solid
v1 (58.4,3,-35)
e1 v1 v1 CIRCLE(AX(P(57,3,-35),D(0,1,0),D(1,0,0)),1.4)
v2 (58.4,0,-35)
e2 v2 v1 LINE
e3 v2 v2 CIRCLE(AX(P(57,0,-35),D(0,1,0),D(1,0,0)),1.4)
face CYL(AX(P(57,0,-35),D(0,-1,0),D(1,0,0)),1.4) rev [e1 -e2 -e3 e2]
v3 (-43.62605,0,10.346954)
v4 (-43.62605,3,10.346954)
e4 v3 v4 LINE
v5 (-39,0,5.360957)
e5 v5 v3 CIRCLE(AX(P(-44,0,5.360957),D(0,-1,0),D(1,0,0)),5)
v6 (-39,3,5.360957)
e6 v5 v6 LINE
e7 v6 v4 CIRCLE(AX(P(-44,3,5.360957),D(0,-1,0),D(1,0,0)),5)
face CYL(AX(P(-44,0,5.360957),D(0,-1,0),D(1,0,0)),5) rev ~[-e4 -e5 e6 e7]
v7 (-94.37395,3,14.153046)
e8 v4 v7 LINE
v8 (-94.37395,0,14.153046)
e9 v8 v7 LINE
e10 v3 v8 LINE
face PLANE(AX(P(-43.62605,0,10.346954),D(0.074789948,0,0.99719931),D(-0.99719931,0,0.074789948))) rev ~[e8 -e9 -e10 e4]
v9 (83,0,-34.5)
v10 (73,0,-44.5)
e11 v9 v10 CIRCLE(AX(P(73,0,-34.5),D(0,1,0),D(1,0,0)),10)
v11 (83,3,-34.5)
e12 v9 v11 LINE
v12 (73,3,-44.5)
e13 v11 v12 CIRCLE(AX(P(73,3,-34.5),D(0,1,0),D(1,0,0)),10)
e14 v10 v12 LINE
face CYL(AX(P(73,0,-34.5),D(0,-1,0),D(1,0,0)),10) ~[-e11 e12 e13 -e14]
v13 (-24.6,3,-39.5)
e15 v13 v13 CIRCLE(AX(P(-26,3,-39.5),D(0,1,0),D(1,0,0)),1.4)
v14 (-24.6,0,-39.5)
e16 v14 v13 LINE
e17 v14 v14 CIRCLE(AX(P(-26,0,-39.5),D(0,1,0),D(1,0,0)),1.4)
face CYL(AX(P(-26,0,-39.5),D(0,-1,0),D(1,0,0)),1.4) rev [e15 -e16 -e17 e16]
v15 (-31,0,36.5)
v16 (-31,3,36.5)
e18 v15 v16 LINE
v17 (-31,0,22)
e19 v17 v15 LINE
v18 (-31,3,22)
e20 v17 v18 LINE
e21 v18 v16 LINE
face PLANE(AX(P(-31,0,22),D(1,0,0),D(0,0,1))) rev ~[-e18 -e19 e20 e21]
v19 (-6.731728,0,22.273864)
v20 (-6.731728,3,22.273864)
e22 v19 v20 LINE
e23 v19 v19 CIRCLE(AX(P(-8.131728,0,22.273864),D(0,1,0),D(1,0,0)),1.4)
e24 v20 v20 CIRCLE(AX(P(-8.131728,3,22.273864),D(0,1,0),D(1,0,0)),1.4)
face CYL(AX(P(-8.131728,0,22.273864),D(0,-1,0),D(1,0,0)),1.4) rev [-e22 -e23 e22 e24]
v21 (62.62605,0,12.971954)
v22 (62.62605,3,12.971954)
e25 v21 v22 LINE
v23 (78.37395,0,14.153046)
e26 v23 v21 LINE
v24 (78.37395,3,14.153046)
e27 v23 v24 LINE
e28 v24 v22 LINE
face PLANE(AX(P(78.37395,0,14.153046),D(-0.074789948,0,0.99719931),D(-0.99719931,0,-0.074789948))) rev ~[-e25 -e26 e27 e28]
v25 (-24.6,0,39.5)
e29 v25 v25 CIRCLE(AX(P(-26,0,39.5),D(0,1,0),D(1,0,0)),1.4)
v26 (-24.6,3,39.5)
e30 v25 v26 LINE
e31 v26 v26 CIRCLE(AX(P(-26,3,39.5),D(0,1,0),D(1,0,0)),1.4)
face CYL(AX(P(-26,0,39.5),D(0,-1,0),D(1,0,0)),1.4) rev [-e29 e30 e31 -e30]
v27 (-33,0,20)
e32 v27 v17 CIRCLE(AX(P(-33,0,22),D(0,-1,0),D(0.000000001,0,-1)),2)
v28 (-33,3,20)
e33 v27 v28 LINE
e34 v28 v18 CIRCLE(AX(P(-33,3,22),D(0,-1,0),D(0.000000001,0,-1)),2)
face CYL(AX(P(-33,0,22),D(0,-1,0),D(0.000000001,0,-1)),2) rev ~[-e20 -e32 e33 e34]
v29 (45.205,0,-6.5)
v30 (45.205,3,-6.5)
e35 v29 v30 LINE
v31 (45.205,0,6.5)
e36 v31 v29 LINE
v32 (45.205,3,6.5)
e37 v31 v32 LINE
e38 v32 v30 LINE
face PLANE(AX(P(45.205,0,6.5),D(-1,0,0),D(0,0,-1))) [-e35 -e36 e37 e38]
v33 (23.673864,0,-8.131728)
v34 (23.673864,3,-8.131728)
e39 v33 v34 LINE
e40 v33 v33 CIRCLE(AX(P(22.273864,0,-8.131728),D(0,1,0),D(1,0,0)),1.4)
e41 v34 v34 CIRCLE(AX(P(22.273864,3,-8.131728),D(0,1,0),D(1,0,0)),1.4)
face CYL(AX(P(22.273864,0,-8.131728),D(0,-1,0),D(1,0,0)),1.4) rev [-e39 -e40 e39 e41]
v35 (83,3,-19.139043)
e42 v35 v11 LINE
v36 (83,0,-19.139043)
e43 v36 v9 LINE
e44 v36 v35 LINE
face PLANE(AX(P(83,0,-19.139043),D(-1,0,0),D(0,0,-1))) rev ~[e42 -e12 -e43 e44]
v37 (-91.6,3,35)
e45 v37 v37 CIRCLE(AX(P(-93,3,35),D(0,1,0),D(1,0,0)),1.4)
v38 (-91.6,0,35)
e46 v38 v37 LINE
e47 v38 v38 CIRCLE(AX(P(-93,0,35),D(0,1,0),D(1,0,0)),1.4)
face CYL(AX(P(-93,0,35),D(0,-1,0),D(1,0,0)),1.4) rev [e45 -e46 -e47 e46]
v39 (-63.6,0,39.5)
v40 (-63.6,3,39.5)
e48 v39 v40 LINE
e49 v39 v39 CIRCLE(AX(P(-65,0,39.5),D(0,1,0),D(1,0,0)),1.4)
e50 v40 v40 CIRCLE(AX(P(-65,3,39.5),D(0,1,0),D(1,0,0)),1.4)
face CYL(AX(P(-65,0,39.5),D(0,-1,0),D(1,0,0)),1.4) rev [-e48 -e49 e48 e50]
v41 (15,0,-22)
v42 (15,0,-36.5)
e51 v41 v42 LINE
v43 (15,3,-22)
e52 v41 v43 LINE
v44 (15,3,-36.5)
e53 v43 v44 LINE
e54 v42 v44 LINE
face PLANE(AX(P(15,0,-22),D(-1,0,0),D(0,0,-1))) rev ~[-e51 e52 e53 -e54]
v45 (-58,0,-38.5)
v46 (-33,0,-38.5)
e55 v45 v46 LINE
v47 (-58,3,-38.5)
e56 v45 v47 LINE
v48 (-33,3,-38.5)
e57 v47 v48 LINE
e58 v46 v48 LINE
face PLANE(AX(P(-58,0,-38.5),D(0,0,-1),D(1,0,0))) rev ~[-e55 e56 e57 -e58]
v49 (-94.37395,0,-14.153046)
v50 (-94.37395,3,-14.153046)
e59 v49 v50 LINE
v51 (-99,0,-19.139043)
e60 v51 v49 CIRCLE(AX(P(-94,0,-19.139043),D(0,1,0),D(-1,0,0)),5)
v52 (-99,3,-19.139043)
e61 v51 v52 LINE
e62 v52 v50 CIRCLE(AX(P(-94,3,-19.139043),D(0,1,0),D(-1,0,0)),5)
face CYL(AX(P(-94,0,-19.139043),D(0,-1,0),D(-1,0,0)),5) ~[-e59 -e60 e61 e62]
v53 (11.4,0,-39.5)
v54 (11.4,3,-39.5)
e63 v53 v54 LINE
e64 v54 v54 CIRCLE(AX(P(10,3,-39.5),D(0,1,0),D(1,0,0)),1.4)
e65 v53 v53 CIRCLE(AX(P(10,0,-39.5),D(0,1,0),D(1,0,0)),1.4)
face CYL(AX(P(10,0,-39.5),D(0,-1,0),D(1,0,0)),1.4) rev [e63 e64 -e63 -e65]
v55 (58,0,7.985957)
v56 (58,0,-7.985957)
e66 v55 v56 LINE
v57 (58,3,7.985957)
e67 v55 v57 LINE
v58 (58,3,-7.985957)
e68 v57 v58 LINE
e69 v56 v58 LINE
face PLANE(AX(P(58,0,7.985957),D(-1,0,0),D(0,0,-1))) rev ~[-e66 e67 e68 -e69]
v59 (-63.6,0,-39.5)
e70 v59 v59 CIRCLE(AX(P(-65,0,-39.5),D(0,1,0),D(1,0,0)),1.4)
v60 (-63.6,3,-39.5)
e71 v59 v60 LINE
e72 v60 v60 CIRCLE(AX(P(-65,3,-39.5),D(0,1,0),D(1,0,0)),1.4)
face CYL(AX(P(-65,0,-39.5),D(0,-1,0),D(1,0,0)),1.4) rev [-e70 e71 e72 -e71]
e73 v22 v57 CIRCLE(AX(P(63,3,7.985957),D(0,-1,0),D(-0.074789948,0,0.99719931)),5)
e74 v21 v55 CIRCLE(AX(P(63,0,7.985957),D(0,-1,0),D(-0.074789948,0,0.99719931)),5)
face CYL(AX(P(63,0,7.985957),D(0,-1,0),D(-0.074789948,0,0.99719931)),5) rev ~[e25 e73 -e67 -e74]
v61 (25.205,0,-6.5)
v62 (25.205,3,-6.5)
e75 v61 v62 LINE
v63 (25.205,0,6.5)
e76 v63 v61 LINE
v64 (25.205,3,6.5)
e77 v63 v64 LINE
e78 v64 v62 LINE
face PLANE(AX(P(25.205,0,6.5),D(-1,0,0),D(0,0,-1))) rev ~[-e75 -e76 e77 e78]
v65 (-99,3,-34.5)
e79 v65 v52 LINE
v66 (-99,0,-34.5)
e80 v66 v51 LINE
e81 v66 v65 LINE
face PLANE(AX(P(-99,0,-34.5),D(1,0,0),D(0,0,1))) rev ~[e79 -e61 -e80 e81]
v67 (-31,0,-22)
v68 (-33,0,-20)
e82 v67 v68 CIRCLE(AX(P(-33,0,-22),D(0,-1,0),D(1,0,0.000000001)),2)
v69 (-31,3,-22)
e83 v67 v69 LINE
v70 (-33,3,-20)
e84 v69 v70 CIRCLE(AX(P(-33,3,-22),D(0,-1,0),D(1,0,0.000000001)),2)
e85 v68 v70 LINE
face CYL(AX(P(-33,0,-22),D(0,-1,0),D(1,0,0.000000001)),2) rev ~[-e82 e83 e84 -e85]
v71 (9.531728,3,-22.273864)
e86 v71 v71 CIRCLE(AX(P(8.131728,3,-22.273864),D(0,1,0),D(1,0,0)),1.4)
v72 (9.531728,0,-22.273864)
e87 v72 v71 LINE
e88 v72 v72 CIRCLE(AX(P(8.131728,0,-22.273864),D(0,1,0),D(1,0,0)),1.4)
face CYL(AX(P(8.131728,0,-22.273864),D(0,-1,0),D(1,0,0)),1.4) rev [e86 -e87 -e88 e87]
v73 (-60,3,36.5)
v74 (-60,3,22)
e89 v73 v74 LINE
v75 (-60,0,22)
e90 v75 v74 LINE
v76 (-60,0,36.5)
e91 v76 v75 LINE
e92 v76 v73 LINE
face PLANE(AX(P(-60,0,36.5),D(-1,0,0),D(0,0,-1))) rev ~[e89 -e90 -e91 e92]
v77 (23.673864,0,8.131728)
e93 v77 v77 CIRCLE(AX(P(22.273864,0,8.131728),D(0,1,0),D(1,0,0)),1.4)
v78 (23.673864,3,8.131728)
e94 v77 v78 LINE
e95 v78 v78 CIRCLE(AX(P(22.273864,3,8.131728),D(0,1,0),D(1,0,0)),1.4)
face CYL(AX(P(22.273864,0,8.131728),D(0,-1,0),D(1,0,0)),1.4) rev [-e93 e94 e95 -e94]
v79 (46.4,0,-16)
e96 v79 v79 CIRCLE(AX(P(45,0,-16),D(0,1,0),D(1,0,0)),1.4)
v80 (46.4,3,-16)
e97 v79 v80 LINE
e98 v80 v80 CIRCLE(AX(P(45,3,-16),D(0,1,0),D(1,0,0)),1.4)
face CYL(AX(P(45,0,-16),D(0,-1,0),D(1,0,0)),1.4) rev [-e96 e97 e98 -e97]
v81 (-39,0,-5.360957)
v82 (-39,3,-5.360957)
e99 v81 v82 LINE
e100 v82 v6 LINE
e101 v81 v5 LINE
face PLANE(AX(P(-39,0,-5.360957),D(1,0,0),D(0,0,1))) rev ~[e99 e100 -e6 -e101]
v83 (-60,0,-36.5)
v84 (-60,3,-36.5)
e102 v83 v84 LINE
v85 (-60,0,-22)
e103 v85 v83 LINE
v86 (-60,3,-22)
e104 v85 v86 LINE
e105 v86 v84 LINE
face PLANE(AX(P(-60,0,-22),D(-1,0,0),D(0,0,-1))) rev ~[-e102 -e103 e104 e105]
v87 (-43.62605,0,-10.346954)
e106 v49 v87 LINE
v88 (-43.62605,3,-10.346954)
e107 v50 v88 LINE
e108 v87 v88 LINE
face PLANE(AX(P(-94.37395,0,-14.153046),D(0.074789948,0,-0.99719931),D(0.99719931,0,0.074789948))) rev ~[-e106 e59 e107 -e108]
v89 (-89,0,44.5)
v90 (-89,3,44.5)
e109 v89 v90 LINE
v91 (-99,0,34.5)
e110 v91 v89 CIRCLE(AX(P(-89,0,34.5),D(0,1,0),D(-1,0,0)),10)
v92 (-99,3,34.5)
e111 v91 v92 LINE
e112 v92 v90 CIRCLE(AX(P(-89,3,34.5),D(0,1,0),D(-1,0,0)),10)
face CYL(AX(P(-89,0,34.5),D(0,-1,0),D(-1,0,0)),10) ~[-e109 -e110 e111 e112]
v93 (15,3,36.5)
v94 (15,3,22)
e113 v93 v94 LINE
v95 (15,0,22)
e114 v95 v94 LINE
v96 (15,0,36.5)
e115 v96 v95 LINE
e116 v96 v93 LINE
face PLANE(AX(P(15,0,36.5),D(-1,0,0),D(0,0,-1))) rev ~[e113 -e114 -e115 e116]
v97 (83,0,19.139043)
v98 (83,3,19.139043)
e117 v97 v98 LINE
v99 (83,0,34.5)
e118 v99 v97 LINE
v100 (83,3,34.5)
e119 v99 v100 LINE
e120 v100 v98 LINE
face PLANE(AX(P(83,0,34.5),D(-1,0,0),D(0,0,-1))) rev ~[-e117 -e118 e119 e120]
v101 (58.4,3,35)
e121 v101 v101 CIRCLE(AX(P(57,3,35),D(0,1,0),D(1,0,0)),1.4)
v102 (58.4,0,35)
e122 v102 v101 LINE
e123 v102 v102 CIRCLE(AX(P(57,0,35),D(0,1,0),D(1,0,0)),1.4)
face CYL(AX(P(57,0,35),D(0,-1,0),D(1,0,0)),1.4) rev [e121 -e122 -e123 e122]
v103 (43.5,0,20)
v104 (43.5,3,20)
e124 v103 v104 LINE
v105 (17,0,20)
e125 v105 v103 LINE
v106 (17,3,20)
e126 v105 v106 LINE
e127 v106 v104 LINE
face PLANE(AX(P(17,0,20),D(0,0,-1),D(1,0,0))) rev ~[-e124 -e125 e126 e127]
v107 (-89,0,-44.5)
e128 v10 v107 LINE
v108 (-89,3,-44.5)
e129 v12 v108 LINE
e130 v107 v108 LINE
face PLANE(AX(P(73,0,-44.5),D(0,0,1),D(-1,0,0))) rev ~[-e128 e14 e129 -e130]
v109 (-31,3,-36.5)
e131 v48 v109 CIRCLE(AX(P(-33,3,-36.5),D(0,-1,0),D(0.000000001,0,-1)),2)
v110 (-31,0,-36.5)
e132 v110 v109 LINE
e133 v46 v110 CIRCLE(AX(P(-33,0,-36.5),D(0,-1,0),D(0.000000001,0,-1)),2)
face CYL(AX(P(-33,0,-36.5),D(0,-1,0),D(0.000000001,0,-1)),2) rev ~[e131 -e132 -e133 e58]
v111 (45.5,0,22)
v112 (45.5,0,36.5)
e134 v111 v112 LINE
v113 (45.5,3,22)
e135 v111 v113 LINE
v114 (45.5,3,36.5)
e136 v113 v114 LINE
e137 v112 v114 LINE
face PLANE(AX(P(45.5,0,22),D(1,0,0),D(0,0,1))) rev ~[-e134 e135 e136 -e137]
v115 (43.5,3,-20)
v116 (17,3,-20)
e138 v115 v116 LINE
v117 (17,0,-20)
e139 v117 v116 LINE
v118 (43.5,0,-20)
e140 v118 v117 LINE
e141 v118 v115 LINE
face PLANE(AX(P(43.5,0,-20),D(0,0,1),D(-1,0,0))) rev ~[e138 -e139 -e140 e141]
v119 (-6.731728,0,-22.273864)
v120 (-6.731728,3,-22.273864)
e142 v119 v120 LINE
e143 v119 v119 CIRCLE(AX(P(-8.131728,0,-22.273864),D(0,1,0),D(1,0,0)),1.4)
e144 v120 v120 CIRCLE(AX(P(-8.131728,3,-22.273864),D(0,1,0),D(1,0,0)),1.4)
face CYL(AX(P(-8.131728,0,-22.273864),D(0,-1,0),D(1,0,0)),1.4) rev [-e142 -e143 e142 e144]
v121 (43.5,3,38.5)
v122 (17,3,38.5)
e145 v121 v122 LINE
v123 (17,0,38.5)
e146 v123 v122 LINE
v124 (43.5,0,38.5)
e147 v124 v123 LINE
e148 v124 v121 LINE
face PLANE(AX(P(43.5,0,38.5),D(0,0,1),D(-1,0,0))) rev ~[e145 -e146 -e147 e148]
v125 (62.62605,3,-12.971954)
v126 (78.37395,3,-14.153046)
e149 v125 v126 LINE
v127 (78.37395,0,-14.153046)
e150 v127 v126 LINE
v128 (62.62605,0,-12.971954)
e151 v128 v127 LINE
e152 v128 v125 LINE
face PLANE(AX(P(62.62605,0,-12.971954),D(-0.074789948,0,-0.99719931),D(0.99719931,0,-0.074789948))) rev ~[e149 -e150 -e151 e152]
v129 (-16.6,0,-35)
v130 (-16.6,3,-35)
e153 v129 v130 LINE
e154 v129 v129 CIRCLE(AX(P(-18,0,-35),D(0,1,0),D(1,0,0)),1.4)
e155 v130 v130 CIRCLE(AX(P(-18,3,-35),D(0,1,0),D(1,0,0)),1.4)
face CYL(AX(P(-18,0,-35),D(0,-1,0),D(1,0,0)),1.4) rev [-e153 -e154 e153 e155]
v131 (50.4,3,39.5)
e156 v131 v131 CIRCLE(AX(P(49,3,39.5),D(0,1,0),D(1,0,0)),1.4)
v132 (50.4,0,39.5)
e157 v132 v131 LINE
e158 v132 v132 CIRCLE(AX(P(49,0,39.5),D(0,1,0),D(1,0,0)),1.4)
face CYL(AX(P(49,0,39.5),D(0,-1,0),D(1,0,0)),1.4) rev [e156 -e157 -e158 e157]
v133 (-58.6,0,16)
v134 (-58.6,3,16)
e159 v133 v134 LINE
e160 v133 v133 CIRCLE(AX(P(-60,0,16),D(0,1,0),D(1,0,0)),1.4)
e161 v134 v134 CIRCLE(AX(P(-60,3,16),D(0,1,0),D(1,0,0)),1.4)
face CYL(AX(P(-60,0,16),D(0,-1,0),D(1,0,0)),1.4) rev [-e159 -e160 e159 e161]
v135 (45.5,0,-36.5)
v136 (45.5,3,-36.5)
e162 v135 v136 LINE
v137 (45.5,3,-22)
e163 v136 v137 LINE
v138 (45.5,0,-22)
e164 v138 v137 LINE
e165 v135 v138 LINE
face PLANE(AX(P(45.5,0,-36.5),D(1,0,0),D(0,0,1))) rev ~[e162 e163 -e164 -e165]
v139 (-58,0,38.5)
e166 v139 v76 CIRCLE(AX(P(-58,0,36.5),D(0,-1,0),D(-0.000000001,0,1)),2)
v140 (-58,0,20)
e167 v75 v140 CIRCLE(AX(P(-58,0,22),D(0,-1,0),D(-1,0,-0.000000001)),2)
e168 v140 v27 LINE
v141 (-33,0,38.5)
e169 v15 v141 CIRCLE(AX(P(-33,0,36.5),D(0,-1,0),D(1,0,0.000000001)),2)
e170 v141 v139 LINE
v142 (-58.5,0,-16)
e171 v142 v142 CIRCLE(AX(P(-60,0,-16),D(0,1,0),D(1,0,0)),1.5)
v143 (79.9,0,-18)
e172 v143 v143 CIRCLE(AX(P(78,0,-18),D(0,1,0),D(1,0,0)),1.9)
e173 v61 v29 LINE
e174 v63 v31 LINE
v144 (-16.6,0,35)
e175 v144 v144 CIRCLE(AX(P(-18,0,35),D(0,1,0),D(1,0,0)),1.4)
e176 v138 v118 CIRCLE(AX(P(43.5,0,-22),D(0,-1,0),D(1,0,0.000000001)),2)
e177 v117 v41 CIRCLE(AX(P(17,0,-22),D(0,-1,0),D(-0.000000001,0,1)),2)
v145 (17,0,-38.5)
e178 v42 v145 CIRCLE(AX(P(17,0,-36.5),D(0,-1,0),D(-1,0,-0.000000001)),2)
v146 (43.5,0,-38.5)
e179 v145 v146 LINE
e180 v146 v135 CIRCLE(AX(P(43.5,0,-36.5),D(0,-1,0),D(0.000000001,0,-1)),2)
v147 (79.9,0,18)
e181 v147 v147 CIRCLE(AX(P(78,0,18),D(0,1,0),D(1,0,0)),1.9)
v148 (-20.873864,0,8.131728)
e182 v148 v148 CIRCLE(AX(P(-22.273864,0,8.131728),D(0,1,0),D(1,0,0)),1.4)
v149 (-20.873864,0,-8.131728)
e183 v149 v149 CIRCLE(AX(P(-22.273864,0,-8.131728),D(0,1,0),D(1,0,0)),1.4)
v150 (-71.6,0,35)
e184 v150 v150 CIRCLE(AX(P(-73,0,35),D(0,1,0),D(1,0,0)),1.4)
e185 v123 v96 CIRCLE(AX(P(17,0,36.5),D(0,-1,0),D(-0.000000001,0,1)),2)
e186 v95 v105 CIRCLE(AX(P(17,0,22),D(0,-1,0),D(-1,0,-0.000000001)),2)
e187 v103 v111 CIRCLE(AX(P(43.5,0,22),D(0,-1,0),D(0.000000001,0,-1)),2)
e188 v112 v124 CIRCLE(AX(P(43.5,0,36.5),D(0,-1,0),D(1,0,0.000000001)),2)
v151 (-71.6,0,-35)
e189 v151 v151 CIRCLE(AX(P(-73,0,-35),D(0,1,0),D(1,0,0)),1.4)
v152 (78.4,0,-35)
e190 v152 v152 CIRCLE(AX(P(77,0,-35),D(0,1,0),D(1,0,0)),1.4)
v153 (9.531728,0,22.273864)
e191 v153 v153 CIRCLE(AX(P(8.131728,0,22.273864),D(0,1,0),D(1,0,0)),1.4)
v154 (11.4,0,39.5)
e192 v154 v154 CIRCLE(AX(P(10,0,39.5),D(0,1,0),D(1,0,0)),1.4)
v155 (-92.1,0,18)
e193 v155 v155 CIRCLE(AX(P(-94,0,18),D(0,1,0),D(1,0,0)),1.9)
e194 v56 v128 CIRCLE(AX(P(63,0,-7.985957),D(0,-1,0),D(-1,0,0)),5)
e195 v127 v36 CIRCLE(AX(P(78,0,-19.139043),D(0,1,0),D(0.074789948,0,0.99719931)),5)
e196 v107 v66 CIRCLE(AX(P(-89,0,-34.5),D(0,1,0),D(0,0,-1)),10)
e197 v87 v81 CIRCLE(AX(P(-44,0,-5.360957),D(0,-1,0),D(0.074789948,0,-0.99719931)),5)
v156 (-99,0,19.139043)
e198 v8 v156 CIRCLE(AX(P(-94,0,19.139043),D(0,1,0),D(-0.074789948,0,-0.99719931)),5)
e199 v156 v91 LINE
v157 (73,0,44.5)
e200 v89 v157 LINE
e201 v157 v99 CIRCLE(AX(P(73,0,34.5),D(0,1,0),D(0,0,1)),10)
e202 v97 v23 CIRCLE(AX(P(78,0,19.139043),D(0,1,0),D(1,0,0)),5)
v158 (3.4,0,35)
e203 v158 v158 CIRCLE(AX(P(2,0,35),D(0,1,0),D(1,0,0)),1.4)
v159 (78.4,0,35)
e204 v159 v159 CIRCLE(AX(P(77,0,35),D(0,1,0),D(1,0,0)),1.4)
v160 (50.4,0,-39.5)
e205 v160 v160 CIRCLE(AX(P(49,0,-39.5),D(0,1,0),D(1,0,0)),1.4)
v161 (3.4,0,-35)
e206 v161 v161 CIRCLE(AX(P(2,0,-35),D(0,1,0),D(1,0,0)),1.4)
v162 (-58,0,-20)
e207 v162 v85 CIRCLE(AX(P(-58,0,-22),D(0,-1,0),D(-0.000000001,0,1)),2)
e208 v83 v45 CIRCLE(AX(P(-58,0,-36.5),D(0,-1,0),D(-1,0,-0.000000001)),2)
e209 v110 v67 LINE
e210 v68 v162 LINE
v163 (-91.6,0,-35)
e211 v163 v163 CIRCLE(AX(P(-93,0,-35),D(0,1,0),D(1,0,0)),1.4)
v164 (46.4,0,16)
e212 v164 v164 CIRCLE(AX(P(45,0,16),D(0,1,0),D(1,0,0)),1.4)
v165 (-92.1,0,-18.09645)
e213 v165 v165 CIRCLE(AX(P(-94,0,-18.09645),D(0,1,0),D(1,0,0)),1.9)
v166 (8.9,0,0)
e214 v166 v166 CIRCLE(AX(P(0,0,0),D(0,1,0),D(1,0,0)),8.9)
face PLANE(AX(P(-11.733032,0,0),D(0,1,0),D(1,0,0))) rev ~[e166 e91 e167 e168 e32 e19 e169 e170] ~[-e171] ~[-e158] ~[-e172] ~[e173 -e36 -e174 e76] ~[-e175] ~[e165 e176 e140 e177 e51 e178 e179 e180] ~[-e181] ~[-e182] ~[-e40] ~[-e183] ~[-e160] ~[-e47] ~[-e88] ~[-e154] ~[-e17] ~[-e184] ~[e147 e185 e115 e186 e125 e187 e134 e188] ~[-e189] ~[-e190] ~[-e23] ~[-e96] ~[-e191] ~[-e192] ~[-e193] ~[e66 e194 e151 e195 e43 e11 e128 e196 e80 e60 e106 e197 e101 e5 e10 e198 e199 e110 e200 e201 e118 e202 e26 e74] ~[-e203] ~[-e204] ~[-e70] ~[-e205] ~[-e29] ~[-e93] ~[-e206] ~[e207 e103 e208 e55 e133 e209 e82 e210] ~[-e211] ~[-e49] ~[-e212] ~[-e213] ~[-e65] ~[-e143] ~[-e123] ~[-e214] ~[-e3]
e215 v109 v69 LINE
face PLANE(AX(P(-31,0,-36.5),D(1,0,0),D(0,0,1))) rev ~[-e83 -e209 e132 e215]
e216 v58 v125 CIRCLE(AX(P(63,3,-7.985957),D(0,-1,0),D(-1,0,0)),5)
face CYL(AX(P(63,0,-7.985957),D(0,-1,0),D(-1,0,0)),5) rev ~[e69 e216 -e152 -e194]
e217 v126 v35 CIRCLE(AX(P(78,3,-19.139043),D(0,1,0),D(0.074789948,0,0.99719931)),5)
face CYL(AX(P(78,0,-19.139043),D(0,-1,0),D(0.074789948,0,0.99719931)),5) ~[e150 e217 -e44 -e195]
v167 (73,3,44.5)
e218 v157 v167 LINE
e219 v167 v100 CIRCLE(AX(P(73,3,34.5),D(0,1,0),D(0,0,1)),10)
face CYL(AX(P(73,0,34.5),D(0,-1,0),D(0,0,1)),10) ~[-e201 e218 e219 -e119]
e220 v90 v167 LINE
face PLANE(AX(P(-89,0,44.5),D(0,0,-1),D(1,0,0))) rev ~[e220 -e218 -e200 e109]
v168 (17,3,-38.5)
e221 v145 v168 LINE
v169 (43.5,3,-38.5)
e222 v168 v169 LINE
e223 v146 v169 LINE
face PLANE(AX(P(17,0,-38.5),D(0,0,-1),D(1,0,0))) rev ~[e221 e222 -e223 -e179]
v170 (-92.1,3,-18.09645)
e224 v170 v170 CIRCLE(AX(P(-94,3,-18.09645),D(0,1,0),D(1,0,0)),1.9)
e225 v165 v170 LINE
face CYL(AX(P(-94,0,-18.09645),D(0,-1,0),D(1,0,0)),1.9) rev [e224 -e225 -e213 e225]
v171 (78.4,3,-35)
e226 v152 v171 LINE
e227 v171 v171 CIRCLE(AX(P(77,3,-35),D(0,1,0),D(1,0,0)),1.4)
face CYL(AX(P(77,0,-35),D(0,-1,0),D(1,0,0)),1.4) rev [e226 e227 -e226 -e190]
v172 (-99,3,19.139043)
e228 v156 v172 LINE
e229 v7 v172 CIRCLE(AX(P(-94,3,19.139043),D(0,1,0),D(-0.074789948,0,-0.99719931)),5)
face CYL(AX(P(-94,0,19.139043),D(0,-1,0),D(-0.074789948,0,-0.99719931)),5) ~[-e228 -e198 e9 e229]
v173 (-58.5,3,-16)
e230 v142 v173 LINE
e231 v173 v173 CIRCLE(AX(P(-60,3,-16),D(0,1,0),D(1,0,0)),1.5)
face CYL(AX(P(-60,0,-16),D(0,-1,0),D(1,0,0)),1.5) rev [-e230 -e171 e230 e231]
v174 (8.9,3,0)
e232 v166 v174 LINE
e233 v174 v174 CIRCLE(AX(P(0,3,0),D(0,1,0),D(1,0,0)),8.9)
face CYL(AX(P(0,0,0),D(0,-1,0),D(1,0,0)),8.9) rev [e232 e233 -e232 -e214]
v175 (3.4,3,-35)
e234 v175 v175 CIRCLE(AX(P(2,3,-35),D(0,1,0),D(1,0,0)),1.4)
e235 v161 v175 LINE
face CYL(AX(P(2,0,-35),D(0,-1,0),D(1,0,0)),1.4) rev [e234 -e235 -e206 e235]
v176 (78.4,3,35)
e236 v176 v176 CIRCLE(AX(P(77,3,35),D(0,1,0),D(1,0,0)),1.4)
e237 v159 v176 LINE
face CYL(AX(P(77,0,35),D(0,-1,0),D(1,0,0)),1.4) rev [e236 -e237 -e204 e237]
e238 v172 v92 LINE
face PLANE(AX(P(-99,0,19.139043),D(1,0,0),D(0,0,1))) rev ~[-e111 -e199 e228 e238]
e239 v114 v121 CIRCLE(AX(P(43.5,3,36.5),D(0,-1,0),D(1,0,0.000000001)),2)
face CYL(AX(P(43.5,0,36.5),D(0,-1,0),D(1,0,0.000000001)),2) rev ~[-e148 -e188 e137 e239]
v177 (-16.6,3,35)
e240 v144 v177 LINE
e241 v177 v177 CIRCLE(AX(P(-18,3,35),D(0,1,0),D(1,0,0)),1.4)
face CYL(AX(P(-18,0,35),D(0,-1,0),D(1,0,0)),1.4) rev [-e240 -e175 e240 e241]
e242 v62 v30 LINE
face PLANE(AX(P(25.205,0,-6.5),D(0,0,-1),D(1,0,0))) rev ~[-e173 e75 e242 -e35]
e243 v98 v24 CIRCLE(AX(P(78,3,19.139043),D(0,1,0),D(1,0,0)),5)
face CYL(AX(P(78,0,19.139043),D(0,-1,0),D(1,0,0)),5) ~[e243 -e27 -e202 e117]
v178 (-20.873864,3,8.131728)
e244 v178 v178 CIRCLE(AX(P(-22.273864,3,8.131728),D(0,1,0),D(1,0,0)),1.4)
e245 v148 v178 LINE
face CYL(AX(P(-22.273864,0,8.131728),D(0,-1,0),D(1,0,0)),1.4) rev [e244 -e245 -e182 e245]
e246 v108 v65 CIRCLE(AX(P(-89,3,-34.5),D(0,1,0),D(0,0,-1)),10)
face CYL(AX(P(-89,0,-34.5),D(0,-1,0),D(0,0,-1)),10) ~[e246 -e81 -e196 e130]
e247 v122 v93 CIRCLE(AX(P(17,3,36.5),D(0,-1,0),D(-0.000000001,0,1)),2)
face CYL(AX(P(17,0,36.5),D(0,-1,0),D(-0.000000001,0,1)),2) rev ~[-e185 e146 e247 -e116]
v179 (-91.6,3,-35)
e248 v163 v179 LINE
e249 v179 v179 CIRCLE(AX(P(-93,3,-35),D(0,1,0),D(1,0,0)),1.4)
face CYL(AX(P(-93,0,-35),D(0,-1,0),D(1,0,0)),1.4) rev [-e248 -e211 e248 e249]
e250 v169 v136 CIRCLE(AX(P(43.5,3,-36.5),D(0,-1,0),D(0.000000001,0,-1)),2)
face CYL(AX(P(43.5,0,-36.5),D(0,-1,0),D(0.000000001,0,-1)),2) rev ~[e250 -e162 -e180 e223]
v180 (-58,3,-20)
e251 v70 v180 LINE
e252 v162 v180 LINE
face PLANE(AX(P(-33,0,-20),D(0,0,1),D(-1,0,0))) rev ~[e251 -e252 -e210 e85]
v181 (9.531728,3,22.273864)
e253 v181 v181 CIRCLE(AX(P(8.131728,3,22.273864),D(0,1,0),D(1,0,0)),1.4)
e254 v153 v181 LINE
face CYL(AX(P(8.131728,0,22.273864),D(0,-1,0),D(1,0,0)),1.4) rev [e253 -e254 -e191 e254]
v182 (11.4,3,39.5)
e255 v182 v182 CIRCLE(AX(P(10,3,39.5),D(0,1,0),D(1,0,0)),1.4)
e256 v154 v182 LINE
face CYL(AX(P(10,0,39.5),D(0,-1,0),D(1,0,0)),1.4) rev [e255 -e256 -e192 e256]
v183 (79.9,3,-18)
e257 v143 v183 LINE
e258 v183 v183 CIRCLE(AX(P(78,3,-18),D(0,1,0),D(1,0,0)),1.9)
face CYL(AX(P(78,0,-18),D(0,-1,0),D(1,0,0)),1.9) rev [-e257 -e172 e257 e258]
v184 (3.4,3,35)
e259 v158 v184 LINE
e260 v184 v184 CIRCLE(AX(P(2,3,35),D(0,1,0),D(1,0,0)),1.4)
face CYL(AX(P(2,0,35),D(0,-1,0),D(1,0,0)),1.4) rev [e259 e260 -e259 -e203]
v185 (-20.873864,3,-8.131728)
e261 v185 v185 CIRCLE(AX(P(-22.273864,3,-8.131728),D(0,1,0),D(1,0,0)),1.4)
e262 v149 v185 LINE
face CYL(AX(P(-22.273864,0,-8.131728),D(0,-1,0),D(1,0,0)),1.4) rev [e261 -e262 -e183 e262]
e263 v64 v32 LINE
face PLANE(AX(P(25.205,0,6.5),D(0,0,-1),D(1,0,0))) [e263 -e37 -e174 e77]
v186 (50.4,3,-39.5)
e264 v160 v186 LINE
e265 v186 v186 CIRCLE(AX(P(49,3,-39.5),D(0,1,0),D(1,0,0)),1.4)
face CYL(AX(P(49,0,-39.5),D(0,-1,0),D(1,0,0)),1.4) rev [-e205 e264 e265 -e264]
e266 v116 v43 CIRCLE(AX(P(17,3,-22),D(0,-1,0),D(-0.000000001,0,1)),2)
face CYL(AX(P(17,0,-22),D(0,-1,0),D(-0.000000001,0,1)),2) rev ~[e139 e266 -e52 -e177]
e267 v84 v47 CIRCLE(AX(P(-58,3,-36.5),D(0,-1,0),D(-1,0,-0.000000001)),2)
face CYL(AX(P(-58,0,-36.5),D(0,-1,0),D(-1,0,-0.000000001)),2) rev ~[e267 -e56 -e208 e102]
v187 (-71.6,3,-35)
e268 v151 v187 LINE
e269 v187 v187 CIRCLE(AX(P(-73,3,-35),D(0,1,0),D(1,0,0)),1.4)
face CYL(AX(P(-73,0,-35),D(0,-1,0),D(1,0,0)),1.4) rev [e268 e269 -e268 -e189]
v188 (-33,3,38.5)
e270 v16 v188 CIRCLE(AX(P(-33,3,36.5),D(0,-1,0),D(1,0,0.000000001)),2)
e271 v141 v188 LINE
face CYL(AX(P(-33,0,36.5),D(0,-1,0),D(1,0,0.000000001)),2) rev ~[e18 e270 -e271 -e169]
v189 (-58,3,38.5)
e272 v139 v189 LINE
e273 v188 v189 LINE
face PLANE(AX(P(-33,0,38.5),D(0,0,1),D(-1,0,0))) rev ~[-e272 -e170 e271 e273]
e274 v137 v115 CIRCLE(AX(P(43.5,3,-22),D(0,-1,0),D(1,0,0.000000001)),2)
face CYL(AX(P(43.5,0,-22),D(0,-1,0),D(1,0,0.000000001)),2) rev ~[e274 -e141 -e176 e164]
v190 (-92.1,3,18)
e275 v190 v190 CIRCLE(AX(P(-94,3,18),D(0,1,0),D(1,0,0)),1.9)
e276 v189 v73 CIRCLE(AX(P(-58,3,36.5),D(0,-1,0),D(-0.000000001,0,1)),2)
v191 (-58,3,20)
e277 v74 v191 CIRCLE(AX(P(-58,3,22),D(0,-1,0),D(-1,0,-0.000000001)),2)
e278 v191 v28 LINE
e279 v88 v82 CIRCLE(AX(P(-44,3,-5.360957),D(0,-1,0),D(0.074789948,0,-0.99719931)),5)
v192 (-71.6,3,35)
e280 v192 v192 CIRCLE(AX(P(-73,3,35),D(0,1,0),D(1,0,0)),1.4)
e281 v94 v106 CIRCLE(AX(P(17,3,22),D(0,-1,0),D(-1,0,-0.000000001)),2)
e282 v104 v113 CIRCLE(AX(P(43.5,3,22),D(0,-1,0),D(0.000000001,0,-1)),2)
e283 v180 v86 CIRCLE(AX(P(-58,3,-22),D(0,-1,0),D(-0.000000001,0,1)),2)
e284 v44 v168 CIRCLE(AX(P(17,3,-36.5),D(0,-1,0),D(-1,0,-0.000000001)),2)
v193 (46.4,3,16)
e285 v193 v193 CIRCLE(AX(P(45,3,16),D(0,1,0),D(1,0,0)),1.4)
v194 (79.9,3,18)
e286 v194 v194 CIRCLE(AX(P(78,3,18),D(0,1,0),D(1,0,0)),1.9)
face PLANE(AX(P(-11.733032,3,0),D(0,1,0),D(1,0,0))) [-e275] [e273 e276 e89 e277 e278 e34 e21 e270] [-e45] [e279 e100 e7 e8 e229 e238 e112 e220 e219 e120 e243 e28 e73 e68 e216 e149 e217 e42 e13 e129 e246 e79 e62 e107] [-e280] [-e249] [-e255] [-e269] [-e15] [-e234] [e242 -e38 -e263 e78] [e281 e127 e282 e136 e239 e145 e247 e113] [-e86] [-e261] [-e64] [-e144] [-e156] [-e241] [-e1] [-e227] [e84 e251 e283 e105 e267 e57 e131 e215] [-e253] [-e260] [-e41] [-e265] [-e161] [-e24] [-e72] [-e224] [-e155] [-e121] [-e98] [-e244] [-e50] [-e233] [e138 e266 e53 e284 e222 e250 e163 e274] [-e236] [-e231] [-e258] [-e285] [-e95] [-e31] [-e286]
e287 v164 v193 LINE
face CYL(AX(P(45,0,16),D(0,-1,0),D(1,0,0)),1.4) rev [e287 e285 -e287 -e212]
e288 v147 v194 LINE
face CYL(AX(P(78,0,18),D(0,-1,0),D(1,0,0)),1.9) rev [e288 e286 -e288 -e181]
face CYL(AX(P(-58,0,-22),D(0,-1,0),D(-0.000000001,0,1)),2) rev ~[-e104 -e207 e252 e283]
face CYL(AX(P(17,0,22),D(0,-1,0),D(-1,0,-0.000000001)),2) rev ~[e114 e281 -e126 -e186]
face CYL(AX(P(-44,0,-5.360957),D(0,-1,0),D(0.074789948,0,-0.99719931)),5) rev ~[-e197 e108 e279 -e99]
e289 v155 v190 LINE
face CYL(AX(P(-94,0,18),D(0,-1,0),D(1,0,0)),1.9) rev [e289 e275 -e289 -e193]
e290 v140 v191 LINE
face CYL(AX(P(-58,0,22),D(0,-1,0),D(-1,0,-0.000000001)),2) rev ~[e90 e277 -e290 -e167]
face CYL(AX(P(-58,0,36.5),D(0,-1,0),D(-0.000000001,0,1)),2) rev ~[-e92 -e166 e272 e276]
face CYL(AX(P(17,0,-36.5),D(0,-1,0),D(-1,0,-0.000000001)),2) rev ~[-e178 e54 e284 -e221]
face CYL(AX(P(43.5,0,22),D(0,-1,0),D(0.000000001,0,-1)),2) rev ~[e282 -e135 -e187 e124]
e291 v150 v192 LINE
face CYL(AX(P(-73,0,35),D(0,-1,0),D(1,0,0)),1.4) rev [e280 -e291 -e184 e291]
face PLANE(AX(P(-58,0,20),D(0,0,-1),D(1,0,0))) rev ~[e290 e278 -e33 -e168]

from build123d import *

# Parameters (mm, degrees)
SKETCH1_R           = 8.9
SKETCH1_R_2         = 1.9
SKETCH1_R_3         = 1.4
SKETCH1_R_4         = 1.5
SKETCH1_W           = 20
SKETCH1_H           = 13
BOSS_EXTRUDE1_DEPTH = 3


with BuildPart() as part:
    # Sketch1 → Boss-Extrude1 (new body)
    with BuildSketch(Plane(origin=(0, 0, 0), x_dir=(1, 0, 0), z_dir=(0, 1, 0))):
        with BuildLine():
            Line((78.373949741, -14.153046231), (62.626050259, -12.971953769))
            ThreePointArc((62.626050259, -12.971953769), (59.334638578, -11.386710908), (58, -7.98595722))
            Line((58, -7.98595722), (58, 7.98595722))
            ThreePointArc((58, 7.98595722), (59.334638578, 11.386710908), (62.626050259, 12.971953769))
            Line((62.626050259, 12.971953769), (78.373949741, 14.153046231))
            ThreePointArc((78.373949741, 14.153046231), (81.665361422, 15.738289092), (83, 19.13904278))
            Line((83, 19.13904278), (83, 34.5))
            ThreePointArc((83, 34.5), (80.071067812, 41.571067812), (73, 44.5))
            Line((73, 44.5), (-89, 44.5))
            ThreePointArc((-89, 44.5), (-96.071067812, 41.571067812), (-99, 34.5))
            Line((-99, 34.5), (-99, 19.13904278))
            ThreePointArc((-99, 19.13904278), (-97.665361422, 15.738289092), (-94.373949741, 14.153046231))
            Line((-94.373949741, 14.153046231), (-43.626050259, 10.346953769))
            ThreePointArc((-43.626050259, 10.346953769), (-40.334638578, 8.761710908), (-39, 5.36095722))
            Line((-39, 5.36095722), (-39, -5.36095722))
            ThreePointArc((-39, -5.36095722), (-40.334638578, -8.761710908), (-43.626050259, -10.346953769))
            Line((-43.626050259, -10.346953769), (-94.373949741, -14.153046231))
            ThreePointArc((-94.373949741, -14.153046231), (-97.665361422, -15.738289092), (-99, -19.13904278))
            Line((-99, -19.13904278), (-99, -34.5))
            ThreePointArc((-99, -34.5), (-96.071067812, -41.571067812), (-89, -44.5))
            Line((-89, -44.5), (73, -44.5))
            ThreePointArc((73, -44.5), (80.071067812, -41.571067812), (83, -34.5))
            Line((83, -34.5), (83, -19.13904278))
            ThreePointArc((83, -19.13904278), (81.665361422, -15.738289092), (78.373949741, -14.153046231))
        make_face()
        Circle(SKETCH1_R, mode=Mode.SUBTRACT)
        with Locations((78, -18)):
            Circle(SKETCH1_R_2, mode=Mode.SUBTRACT)
        with Locations((77, -35)):
            Circle(SKETCH1_R_3, mode=Mode.SUBTRACT)
        with Locations((57, -35)):
            Circle(SKETCH1_R_3, mode=Mode.SUBTRACT)
        with Locations((49, -39.5)):
            Circle(SKETCH1_R_3, mode=Mode.SUBTRACT)
        with Locations((45, -16)):
            Circle(SKETCH1_R_3, mode=Mode.SUBTRACT)
        with Locations((22.273863607, -8.131727984)):
            Circle(SKETCH1_R_3, mode=Mode.SUBTRACT)
        with Locations((22.273863607, 8.131727984)):
            Circle(SKETCH1_R_3, mode=Mode.SUBTRACT)
        with Locations((10, -39.5)):
            Circle(SKETCH1_R_3, mode=Mode.SUBTRACT)
        with Locations((2, -35)):
            Circle(SKETCH1_R_3, mode=Mode.SUBTRACT)
        with Locations((8.131727984, -22.273863607)):
            Circle(SKETCH1_R_3, mode=Mode.SUBTRACT)
        with Locations((-8.131727984, -22.273863607)):
            Circle(SKETCH1_R_3, mode=Mode.SUBTRACT)
        with Locations((-18, -35)):
            Circle(SKETCH1_R_3, mode=Mode.SUBTRACT)
        with Locations((-26, -39.5)):
            Circle(SKETCH1_R_3, mode=Mode.SUBTRACT)
        with Locations((-22.273863607, -8.131727984)):
            Circle(SKETCH1_R_3, mode=Mode.SUBTRACT)
        with Locations((-22.273863607, 8.131727984)):
            Circle(SKETCH1_R_3, mode=Mode.SUBTRACT)
        with Locations((-8.131727984, 22.273863607)):
            Circle(SKETCH1_R_3, mode=Mode.SUBTRACT)
        with Locations((8.131727984, 22.273863607)):
            Circle(SKETCH1_R_3, mode=Mode.SUBTRACT)
        with Locations((45, 16)):
            Circle(SKETCH1_R_3, mode=Mode.SUBTRACT)
        with Locations((78, 18)):
            Circle(SKETCH1_R_2, mode=Mode.SUBTRACT)
        with Locations((77, 35)):
            Circle(SKETCH1_R_3, mode=Mode.SUBTRACT)
        with Locations((57, 35)):
            Circle(SKETCH1_R_3, mode=Mode.SUBTRACT)
        with Locations((49, 39.5)):
            Circle(SKETCH1_R_3, mode=Mode.SUBTRACT)
        with Locations((10, 39.5)):
            Circle(SKETCH1_R_3, mode=Mode.SUBTRACT)
        with Locations((2, 35)):
            Circle(SKETCH1_R_3, mode=Mode.SUBTRACT)
        with Locations((-18, 35)):
            Circle(SKETCH1_R_3, mode=Mode.SUBTRACT)
        with Locations((-26, 39.5)):
            Circle(SKETCH1_R_3, mode=Mode.SUBTRACT)
        with Locations((-60, 16)):
            Circle(SKETCH1_R_4, mode=Mode.SUBTRACT)
        with Locations((-60, -16)):
            Circle(SKETCH1_R_3, mode=Mode.SUBTRACT)
        with Locations((-65, -39.5)):
            Circle(SKETCH1_R_3, mode=Mode.SUBTRACT)
        with Locations((-73, -35)):
            Circle(SKETCH1_R_3, mode=Mode.SUBTRACT)
        with Locations((-93, -35)):
            Circle(SKETCH1_R_3, mode=Mode.SUBTRACT)
        with Locations((-94, -18)):
            Circle(SKETCH1_R_2, mode=Mode.SUBTRACT)
        with Locations((-94, 18.096449674)):
            Circle(SKETCH1_R_2, mode=Mode.SUBTRACT)
        with Locations((-93, 35)):
            Circle(SKETCH1_R_3, mode=Mode.SUBTRACT)
        with Locations((-73, 35)):
            Circle(SKETCH1_R_3, mode=Mode.SUBTRACT)
        with Locations((-65, 39.5)):
            Circle(SKETCH1_R_3, mode=Mode.SUBTRACT)
        with BuildLine():
            Line((-33, 20), (-58, 20))
            ThreePointArc((-58, 20), (-59.414213562, 20.585786438), (-60, 22))
            Line((-60, 22), (-60, 36.5))
            ThreePointArc((-60, 36.5), (-59.414213562, 37.914213562), (-58, 38.5))
            Line((-58, 38.5), (-33, 38.5))
            ThreePointArc((-33, 38.5), (-31.585786438, 37.914213562), (-31, 36.5))
            Line((-31, 36.5), (-31, 22))
            ThreePointArc((-31, 22), (-31.585786438, 20.585786438), (-33, 20))
        make_face(mode=Mode.SUBTRACT)
        with Locations((35.205, 0)):
            Rectangle(SKETCH1_W, SKETCH1_H, mode=Mode.SUBTRACT)
        with BuildLine():
            Line((45.5, 36.5), (45.5, 22))
            ThreePointArc((45.5, 22), (44.914213562, 20.585786438), (43.5, 20))
            Line((43.5, 20), (17, 20))
            ThreePointArc((17, 20), (15.585786438, 20.585786438), (15, 22))
            Line((15, 22), (15, 36.5))
            ThreePointArc((15, 36.5), (15.585786438, 37.914213562), (17, 38.5))
            Line((17, 38.5), (43.5, 38.5))
            ThreePointArc((43.5, 38.5), (44.914213562, 37.914213562), (45.5, 36.5))
        make_face(mode=Mode.SUBTRACT)
        with BuildLine():
            Line((43.5, -38.5), (17, -38.5))
            ThreePointArc((17, -38.5), (15.585786438, -37.914213562), (15, -36.5))
            Line((15, -36.5), (15, -22))
            ThreePointArc((15, -22), (15.585786438, -20.585786438), (17, -20))
            Line((17, -20), (43.5, -20))
            ThreePointArc((43.5, -20), (44.914213562, -20.585786438), (45.5, -22))
            Line((45.5, -22), (45.5, -36.5))
            ThreePointArc((45.5, -36.5), (44.914213562, -37.914213562), (43.5, -38.5))
        make_face(mode=Mode.SUBTRACT)
        with BuildLine():
            Line((-31, -22), (-31, -36.5))
            ThreePointArc((-31, -36.5), (-31.585786438, -37.914213562), (-33, -38.5))
            Line((-33, -38.5), (-58, -38.5))
            ThreePointArc((-58, -38.5), (-59.414213562, -37.914213562), (-60, -36.5))
            Line((-60, -36.5), (-60, -22))
            ThreePointArc((-60, -22), (-59.414213562, -20.585786438), (-58, -20))
            Line((-58, -20), (-33, -20))
            ThreePointArc((-33, -20), (-31.585786438, -20.585786438), (-31, -22))
        make_face(mode=Mode.SUBTRACT)
    extrude(amount=BOSS_EXTRUDE1_DEPTH)


solid = part.part
